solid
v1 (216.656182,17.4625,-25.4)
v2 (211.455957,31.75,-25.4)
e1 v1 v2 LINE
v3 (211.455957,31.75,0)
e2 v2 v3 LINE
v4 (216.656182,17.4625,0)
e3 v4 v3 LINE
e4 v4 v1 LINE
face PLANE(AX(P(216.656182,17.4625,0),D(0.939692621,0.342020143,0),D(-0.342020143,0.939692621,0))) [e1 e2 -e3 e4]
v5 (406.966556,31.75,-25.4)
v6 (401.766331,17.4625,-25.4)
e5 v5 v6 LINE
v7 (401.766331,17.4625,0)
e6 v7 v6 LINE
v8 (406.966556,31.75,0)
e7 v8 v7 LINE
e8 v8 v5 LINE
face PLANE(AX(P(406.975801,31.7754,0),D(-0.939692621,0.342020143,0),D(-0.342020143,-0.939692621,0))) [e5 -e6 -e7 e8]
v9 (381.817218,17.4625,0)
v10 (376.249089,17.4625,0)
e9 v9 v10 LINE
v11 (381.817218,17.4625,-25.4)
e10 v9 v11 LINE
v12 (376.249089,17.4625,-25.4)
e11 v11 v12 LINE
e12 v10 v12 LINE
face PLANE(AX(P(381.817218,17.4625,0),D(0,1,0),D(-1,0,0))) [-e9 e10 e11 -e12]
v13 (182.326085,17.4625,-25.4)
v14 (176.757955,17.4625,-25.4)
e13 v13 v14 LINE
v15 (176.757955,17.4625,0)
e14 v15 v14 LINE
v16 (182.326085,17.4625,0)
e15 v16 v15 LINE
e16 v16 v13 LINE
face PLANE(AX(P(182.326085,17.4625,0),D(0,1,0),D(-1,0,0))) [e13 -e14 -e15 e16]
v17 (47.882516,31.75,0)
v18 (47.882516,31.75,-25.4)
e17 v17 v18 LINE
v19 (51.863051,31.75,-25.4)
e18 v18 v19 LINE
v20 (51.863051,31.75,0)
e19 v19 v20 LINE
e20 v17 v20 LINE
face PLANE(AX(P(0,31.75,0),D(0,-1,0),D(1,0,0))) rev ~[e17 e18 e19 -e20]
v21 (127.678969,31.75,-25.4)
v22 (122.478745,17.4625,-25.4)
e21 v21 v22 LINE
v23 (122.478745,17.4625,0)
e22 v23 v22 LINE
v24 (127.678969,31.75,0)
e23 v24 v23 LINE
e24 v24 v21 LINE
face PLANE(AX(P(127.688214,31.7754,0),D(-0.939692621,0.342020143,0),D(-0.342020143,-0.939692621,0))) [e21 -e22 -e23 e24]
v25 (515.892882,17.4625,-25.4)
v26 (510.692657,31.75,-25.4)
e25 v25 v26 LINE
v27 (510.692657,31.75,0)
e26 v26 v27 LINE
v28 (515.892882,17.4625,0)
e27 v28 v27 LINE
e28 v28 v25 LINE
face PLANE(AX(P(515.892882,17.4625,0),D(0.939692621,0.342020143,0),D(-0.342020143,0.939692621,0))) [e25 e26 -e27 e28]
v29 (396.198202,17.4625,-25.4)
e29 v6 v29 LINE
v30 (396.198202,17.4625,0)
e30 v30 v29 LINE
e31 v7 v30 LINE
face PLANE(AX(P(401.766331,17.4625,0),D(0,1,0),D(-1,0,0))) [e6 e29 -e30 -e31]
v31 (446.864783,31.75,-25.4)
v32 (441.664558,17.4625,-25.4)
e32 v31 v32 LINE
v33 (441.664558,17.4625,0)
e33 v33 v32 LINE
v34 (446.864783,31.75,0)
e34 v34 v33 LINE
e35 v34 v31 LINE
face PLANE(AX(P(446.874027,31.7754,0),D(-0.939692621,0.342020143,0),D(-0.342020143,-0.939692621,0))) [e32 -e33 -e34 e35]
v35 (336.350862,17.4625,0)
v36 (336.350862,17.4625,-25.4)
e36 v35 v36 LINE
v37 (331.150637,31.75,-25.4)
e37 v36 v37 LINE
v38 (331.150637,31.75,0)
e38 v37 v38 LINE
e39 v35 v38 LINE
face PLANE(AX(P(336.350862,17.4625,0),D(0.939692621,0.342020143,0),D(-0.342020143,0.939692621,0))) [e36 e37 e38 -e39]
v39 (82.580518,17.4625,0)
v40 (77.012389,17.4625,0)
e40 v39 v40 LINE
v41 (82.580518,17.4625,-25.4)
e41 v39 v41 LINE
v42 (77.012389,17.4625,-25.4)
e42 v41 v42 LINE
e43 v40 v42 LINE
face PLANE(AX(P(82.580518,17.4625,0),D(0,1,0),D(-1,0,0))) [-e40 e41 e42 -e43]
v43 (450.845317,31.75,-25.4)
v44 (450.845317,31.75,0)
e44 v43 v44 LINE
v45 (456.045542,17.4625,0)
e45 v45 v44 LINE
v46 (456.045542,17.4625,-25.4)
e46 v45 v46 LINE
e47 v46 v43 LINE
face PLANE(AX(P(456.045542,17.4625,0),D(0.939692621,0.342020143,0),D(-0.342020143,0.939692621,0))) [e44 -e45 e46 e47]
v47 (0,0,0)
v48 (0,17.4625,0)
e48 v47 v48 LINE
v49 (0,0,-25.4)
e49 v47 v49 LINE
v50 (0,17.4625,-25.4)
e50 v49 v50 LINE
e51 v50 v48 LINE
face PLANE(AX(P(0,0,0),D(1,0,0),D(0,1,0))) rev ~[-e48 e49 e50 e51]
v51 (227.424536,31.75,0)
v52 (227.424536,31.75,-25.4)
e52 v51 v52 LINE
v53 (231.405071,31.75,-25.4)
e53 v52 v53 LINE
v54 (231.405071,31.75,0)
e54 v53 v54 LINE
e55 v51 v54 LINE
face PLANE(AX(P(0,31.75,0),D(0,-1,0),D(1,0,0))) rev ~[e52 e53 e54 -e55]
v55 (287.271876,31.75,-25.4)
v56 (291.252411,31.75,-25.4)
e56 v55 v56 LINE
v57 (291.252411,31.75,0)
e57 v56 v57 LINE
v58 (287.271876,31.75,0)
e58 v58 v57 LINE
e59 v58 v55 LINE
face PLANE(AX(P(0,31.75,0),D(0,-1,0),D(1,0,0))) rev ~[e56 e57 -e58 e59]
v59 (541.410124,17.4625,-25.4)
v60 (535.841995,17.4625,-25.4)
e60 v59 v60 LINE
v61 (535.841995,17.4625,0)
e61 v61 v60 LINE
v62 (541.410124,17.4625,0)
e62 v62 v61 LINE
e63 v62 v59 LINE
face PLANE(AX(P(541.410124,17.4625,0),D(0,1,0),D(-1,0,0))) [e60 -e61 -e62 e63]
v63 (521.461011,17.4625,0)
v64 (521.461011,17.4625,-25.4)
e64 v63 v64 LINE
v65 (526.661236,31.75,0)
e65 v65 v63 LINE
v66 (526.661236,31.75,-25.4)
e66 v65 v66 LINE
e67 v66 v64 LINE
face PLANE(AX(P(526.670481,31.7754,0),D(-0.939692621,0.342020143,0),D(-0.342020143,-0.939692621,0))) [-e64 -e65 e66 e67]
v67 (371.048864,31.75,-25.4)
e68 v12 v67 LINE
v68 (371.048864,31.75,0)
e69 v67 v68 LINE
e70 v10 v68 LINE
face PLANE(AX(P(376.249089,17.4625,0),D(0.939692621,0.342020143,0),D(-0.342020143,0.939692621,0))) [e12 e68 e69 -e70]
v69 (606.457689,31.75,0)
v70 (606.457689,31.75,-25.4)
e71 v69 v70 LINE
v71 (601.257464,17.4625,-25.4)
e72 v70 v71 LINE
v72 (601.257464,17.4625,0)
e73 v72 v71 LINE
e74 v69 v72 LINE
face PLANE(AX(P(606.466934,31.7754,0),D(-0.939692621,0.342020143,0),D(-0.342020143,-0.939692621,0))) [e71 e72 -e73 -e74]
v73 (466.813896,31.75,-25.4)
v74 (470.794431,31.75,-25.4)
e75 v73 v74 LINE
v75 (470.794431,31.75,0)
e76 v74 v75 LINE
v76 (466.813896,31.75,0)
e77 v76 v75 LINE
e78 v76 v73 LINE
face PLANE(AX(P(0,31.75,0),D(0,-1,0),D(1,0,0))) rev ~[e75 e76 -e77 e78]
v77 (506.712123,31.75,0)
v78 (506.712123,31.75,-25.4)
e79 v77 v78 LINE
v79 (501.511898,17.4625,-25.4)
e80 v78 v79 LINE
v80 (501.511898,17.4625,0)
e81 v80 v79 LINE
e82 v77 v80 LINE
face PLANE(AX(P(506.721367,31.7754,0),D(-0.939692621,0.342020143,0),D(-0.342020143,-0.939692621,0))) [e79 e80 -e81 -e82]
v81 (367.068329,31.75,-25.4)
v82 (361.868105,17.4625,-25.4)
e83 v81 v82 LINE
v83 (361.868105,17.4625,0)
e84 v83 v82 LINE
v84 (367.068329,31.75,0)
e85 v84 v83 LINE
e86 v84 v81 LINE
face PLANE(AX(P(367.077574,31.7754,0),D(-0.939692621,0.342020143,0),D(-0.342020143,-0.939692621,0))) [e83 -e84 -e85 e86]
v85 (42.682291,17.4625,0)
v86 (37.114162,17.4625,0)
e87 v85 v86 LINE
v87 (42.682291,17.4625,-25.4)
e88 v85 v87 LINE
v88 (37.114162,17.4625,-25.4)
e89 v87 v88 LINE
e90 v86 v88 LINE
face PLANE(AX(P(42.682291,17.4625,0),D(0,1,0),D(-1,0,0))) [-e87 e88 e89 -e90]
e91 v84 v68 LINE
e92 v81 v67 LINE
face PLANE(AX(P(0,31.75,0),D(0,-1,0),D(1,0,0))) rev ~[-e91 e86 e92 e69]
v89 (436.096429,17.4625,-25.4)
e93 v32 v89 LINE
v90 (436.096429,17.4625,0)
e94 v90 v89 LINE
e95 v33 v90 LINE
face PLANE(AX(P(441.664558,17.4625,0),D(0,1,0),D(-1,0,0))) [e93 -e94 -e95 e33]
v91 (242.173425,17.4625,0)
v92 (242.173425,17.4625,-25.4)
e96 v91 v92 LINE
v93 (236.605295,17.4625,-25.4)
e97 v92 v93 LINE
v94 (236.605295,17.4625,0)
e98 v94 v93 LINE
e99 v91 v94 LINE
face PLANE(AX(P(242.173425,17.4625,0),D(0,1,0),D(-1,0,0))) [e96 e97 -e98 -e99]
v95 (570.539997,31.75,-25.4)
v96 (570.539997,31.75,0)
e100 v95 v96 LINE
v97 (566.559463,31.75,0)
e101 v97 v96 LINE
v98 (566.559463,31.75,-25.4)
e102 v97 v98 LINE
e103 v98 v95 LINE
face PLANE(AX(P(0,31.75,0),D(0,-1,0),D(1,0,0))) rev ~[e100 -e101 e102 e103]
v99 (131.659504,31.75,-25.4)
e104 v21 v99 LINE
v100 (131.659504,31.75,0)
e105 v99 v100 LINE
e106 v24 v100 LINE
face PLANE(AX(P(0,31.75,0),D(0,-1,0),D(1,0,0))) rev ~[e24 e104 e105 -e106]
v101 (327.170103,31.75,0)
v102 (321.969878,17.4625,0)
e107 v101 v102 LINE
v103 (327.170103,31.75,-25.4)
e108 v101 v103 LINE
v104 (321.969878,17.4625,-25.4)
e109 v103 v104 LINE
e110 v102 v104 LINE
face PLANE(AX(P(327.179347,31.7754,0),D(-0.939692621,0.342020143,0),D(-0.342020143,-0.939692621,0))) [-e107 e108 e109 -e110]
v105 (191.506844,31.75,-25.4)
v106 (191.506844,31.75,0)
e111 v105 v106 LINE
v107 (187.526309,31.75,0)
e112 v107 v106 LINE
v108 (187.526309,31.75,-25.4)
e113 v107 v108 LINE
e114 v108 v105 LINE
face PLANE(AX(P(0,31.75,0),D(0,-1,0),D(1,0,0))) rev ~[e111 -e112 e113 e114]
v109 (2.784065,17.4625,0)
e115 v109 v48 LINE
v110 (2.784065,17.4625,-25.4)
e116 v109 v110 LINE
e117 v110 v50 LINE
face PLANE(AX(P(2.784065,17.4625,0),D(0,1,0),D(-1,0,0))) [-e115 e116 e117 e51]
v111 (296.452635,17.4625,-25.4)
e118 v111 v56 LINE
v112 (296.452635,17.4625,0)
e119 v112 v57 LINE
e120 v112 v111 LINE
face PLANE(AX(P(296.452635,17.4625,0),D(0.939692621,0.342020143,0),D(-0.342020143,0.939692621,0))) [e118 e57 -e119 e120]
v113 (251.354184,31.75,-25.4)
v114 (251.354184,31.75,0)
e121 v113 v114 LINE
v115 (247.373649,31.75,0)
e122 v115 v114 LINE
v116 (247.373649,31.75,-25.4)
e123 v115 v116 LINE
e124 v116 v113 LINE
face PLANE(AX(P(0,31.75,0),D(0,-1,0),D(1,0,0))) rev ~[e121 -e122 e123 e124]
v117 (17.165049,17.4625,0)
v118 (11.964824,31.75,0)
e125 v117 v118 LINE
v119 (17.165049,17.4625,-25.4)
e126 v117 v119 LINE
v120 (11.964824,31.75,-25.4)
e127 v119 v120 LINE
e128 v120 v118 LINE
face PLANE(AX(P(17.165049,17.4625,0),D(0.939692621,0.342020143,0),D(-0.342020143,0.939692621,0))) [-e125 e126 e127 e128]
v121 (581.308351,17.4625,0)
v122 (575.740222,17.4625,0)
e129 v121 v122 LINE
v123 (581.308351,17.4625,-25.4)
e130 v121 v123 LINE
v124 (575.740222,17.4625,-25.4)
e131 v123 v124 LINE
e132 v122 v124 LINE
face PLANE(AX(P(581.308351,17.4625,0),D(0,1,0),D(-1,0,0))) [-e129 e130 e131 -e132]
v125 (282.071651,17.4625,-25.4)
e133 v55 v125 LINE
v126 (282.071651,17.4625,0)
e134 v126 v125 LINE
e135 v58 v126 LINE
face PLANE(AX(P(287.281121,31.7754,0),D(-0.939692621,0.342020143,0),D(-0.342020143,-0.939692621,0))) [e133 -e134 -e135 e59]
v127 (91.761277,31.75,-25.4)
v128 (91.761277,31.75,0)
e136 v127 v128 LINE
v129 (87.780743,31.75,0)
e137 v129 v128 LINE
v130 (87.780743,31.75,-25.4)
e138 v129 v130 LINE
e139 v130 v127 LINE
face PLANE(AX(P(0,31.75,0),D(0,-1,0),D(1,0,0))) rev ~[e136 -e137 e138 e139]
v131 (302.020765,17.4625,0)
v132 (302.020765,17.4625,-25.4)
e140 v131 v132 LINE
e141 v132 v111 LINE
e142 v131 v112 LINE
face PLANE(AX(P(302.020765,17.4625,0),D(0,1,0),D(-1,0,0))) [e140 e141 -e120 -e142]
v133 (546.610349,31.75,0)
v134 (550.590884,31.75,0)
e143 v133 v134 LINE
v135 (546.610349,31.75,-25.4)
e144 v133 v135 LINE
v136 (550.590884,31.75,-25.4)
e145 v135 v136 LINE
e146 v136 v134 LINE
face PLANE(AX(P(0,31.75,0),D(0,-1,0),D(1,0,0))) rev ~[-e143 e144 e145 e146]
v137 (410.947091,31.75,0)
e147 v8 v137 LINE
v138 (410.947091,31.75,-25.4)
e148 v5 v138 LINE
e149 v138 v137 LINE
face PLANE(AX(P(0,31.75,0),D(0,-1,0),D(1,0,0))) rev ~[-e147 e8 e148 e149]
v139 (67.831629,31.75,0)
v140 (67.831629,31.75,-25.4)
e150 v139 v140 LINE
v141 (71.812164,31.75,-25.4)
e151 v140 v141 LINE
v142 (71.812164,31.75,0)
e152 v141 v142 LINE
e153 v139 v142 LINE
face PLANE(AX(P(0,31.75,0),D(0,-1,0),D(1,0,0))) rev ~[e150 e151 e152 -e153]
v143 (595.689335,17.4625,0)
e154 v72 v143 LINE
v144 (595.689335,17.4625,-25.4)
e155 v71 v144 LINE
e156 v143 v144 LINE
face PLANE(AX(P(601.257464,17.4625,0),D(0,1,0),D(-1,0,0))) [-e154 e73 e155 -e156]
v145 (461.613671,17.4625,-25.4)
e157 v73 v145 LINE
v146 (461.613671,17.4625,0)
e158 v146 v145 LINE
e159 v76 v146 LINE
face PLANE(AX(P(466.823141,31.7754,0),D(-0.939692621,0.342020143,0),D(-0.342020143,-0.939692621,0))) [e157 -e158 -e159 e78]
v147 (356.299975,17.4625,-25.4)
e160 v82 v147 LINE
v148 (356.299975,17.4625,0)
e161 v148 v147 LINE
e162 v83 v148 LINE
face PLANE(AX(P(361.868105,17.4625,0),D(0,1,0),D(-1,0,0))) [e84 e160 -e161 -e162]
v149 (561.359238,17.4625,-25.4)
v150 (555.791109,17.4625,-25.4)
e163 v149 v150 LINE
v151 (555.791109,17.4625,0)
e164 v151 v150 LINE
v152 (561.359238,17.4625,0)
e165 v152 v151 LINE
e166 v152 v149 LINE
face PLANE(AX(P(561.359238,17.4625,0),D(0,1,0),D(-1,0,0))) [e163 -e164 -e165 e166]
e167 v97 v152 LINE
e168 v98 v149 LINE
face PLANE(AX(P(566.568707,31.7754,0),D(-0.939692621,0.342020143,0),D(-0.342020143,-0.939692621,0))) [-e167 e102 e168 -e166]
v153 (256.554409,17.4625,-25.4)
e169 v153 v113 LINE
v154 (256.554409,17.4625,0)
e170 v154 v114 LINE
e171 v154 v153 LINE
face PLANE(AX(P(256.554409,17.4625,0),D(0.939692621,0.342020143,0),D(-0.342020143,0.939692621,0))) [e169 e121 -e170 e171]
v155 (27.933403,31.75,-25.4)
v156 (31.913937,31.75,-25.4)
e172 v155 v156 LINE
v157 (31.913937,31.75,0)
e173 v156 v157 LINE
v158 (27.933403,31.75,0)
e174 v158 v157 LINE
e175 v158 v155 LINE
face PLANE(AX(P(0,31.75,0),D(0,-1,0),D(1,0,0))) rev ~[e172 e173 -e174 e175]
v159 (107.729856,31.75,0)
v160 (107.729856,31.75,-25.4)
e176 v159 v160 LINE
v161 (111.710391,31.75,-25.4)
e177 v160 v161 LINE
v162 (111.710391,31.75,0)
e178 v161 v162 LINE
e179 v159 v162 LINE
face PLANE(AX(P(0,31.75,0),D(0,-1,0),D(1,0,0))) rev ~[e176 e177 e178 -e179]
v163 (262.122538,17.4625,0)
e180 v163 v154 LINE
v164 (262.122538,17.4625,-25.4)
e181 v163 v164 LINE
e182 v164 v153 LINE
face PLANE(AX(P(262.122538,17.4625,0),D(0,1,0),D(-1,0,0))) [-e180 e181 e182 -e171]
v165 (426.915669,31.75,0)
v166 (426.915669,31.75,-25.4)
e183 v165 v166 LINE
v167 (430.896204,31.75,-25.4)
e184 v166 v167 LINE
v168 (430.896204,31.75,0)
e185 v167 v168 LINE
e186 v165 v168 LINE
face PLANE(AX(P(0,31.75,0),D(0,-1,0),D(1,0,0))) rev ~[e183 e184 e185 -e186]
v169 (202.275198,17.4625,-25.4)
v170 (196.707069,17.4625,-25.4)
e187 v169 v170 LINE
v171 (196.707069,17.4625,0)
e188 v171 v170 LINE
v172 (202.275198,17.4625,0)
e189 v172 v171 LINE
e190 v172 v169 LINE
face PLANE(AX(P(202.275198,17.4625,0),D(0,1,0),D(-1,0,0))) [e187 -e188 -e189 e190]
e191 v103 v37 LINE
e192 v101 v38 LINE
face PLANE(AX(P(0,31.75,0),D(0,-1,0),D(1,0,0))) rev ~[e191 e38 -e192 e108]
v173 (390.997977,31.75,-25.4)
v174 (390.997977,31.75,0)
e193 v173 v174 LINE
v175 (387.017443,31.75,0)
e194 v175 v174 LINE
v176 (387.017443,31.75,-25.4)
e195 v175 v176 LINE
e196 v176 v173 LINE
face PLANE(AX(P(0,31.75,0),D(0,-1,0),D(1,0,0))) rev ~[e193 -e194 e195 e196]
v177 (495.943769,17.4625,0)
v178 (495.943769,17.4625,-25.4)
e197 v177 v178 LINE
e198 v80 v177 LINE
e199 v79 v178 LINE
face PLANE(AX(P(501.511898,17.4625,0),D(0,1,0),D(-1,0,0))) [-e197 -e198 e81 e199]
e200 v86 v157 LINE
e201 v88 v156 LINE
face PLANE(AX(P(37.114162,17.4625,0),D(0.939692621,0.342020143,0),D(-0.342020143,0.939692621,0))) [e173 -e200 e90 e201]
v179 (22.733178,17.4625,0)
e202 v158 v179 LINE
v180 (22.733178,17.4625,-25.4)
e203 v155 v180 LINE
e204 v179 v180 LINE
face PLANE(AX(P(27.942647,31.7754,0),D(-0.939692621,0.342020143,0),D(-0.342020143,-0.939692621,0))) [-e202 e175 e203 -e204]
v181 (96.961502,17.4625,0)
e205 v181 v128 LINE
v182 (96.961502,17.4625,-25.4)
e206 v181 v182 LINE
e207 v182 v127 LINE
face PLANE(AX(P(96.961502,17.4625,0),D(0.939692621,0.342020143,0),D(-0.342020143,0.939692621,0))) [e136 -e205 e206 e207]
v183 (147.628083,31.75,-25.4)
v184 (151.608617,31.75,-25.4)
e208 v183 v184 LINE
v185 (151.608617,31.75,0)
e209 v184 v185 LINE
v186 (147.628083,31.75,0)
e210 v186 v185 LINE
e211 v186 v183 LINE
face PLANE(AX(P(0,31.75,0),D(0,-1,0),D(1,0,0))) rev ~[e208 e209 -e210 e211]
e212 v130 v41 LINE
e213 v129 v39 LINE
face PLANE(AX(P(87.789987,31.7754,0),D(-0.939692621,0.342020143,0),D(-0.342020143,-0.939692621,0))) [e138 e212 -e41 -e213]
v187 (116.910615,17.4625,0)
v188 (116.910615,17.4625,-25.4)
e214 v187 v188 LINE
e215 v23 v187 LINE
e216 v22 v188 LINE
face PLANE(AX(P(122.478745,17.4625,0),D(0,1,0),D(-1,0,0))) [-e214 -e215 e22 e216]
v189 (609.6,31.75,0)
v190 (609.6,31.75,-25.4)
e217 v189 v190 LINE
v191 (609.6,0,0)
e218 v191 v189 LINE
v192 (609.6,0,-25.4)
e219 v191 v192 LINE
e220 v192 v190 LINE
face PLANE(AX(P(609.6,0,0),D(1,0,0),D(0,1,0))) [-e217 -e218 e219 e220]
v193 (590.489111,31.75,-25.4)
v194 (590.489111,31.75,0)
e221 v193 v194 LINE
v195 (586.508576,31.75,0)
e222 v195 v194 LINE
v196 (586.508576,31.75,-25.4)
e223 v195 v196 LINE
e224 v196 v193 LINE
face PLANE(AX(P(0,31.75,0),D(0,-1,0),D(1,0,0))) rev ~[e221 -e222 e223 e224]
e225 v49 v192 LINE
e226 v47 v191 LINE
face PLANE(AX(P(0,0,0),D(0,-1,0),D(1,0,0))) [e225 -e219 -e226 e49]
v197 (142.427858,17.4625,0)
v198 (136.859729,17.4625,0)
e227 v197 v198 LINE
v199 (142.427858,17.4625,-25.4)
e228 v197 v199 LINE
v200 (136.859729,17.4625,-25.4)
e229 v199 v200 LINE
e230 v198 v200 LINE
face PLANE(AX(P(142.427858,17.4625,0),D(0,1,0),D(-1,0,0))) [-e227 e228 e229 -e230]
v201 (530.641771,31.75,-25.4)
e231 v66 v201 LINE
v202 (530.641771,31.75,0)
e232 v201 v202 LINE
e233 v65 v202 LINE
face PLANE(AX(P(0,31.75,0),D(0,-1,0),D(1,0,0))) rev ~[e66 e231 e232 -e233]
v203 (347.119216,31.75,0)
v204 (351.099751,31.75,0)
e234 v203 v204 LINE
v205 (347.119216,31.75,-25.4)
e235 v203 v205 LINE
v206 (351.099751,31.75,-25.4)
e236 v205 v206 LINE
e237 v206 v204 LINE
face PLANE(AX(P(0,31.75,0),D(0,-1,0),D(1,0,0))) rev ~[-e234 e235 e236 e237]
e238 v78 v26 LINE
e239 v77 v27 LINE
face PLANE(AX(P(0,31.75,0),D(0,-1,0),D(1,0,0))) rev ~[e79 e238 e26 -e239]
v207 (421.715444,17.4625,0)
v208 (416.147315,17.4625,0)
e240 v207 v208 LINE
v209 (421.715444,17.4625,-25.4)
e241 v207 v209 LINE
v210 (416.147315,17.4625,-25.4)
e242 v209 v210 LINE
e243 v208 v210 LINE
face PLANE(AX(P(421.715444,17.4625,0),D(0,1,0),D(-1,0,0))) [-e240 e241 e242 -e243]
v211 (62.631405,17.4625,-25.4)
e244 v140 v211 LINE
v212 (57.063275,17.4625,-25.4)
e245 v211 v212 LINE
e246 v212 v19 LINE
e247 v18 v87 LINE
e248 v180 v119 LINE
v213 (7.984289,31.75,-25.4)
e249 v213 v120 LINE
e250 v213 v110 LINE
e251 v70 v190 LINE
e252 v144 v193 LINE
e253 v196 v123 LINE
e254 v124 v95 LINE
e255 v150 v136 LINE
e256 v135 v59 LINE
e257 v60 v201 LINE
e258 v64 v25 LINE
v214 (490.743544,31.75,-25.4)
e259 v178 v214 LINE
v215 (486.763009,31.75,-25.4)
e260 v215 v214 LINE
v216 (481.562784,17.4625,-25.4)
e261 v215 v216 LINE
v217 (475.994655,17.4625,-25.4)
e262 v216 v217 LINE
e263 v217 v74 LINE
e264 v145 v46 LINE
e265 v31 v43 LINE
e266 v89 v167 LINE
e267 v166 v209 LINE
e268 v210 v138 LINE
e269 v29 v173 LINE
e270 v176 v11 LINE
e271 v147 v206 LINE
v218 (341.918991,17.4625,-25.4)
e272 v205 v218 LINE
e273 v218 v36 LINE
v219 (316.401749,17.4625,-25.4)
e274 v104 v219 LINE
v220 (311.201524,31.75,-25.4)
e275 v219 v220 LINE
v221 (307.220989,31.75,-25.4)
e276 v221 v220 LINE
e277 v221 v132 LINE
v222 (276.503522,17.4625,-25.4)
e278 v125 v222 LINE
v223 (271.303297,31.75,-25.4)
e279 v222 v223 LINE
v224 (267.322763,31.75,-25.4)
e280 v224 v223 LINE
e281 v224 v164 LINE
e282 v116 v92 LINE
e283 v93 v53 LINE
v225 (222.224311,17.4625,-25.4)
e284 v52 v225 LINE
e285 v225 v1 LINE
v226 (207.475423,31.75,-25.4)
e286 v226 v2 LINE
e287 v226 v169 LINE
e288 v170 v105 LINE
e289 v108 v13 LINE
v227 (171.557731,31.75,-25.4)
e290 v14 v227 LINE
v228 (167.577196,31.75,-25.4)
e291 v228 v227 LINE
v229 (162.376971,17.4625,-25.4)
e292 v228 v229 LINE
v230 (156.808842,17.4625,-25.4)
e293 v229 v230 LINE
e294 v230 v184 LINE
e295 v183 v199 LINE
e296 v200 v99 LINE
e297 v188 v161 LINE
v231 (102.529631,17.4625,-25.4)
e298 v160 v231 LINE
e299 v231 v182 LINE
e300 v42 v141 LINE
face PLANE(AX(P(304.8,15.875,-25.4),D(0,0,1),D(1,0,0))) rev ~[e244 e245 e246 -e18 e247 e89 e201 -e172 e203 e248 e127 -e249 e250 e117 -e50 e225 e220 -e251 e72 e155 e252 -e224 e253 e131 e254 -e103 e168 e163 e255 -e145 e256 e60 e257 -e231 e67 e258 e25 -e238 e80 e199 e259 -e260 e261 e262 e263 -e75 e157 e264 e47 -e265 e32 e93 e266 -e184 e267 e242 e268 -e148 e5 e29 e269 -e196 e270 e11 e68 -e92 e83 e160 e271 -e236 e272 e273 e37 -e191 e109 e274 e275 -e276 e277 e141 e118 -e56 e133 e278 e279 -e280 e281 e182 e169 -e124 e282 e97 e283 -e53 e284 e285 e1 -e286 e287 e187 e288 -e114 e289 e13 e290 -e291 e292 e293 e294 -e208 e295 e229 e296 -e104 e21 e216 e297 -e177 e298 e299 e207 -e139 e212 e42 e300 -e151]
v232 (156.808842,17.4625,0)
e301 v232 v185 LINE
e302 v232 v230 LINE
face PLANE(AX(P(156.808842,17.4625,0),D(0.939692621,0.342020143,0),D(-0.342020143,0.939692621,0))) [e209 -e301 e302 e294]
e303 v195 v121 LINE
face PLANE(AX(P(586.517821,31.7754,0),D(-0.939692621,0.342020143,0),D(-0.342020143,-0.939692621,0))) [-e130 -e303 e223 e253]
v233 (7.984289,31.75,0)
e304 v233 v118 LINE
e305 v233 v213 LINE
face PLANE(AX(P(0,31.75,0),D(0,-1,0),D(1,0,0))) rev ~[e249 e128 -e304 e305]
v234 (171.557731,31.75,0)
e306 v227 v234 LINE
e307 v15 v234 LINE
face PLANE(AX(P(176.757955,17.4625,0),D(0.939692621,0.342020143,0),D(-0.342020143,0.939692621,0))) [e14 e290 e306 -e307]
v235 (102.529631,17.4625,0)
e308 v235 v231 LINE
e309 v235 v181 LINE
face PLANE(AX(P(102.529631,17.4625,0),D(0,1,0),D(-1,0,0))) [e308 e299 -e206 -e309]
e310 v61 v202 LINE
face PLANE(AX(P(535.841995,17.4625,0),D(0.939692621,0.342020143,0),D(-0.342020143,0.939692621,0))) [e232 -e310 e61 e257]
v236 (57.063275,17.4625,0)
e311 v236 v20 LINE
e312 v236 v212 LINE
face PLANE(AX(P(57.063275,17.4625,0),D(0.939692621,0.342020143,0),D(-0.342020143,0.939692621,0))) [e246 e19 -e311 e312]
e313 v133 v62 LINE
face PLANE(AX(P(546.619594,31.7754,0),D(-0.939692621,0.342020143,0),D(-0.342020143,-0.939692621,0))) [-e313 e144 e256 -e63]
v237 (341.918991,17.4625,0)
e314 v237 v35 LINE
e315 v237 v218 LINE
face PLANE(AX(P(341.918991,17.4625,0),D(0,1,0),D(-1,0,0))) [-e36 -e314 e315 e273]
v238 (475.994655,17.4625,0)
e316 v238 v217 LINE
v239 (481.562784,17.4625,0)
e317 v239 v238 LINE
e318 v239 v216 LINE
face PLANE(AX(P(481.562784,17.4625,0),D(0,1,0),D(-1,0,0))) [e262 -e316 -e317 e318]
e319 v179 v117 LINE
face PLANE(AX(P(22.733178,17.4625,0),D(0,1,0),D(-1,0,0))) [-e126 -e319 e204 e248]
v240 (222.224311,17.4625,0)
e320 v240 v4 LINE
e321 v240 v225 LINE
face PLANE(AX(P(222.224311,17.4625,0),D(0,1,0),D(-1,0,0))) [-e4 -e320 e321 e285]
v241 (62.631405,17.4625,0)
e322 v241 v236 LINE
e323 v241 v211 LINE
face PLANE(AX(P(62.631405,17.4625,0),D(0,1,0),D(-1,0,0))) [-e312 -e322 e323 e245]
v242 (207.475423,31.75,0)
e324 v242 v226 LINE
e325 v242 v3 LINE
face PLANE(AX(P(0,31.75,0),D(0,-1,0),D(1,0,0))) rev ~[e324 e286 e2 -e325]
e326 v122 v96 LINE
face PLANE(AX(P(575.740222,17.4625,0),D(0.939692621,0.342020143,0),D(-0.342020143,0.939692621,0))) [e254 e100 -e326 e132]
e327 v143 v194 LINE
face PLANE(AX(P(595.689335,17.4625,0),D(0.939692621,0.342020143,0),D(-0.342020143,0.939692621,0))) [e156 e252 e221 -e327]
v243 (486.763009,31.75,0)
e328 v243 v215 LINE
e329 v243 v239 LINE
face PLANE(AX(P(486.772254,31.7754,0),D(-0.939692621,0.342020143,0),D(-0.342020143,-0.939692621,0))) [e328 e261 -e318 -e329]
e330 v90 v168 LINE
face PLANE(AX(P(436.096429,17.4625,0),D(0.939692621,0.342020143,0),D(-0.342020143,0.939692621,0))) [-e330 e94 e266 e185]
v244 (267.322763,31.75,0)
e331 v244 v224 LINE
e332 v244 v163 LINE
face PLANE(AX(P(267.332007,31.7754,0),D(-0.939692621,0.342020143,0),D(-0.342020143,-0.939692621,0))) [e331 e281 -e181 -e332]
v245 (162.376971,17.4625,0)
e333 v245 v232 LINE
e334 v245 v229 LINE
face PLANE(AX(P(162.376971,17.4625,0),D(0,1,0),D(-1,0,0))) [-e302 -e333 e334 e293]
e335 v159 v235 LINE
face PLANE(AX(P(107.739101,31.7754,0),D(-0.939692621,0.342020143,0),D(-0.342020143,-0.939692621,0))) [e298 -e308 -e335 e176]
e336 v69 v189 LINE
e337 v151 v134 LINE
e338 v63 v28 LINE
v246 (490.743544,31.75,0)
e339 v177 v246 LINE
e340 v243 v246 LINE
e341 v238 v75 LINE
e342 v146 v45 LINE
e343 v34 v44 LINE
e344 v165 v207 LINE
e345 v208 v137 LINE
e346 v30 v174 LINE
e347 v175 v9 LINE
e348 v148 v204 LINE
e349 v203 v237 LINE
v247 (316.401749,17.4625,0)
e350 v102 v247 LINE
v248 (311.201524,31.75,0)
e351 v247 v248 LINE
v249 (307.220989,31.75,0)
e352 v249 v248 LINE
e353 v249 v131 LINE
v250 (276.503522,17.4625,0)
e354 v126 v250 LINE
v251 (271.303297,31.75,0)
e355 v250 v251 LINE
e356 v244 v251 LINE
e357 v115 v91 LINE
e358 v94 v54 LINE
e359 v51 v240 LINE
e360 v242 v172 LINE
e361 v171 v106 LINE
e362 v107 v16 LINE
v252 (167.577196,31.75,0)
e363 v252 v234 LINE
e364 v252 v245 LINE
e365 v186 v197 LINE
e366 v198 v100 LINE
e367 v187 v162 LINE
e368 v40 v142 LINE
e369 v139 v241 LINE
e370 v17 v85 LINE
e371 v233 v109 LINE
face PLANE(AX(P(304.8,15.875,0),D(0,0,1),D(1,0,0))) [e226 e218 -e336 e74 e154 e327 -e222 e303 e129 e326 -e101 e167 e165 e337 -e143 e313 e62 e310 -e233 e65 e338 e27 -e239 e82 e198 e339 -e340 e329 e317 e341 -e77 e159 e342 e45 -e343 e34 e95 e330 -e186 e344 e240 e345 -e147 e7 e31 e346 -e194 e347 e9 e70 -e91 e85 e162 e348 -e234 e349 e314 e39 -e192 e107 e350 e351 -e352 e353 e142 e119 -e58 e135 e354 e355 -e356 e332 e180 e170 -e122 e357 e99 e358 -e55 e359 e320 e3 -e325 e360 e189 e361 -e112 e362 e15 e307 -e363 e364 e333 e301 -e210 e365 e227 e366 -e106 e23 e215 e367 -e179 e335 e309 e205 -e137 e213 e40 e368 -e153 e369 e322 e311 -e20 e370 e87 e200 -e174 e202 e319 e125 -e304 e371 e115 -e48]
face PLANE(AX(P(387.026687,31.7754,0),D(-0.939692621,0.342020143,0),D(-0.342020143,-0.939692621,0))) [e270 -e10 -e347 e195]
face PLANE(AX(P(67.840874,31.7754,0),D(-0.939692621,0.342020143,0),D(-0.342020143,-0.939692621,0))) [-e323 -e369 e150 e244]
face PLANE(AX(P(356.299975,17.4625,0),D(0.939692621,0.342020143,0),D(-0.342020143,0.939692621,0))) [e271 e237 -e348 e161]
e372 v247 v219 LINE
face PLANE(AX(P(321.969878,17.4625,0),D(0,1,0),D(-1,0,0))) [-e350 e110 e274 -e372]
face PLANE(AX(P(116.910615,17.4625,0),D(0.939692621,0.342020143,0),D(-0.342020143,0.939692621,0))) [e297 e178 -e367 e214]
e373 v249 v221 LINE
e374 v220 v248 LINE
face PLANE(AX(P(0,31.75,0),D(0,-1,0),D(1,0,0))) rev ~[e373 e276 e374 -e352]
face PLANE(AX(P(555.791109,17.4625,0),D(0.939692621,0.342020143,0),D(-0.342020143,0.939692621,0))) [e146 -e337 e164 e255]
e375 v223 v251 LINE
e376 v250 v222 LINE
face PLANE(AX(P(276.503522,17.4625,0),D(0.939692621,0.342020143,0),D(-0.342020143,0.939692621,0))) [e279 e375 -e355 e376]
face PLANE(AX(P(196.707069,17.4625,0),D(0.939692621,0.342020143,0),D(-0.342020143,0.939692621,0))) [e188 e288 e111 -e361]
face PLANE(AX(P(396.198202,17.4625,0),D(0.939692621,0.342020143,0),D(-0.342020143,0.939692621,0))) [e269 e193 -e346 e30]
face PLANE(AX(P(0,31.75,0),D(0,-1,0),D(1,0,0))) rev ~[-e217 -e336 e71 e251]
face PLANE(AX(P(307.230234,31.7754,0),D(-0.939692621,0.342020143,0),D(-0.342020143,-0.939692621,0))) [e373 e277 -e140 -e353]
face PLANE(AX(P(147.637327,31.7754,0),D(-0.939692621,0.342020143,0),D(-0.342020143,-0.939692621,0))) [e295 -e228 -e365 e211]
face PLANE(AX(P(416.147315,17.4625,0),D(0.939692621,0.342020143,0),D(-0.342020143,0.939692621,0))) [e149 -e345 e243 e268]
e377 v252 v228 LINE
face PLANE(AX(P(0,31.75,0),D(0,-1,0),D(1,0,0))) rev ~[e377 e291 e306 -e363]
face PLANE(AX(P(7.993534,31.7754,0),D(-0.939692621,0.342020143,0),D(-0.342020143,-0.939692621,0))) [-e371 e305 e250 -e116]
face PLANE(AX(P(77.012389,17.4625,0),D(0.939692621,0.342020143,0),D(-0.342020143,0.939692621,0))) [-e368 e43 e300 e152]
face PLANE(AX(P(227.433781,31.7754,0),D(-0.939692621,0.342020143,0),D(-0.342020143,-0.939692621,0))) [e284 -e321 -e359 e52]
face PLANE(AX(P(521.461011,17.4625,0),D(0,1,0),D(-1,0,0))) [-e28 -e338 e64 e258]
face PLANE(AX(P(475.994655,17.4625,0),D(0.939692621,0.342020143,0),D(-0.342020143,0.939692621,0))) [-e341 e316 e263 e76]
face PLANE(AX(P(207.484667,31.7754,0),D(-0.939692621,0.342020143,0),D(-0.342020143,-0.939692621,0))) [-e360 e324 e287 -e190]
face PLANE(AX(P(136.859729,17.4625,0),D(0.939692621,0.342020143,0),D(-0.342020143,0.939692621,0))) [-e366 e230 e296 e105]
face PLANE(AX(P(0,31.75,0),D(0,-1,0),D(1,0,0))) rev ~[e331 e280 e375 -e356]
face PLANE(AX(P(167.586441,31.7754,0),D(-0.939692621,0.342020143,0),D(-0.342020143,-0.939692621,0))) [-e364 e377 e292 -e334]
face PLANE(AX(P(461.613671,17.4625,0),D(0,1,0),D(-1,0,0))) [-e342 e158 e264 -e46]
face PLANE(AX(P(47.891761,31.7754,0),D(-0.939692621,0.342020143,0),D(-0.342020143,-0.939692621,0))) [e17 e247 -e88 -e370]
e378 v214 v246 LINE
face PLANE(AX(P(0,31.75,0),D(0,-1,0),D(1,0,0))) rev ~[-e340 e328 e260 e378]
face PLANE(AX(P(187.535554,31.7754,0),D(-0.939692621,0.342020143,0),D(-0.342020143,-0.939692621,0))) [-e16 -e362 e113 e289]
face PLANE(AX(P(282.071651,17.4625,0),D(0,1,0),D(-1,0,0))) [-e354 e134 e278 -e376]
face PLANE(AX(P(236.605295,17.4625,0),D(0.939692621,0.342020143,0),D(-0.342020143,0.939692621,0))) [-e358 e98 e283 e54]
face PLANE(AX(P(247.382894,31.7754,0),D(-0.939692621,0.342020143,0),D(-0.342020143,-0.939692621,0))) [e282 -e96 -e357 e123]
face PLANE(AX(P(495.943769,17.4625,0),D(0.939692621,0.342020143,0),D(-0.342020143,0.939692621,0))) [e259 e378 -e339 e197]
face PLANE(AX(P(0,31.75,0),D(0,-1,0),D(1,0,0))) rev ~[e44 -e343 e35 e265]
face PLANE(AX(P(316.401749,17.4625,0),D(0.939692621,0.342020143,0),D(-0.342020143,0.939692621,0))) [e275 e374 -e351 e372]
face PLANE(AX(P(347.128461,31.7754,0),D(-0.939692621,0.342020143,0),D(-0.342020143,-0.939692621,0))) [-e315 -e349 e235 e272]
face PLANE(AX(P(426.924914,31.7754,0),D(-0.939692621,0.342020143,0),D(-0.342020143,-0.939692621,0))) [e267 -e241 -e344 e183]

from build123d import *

# Parameters (mm, degrees)
BLANKSKE_W        = 609.6
BLANKSKE_H        = 31.75
BLANK_DEPTH       = 25.4
TOOTHCUTSIM_DEPTH = 611.954484802
TEETHCUTS_COUNT   = 31
TEETHCUTS_PITCH   = 19.949113328


with BuildPart() as part:
    # BlankSke → Blank (new body)
    with BuildSketch(Plane.XY):
        with Locations((304.8, 15.875)):
            Rectangle(BLANKSKE_W, BLANKSKE_H)
    extrude(amount=-BLANK_DEPTH)

    # TooCutSkeSim → ToothCutSim (cut, through all)
    with BuildSketch(Plane.XY):
        Polygon((2.784064597, 17.4625), (-2.784064597, 17.4625), (-7.993534163, 31.7754), (7.993534163, 31.7754), align=None)
    toothcutsim = extrude(amount=-TOOTHCUTSIM_DEPTH, mode=Mode.SUBTRACT)

    # TeethCuts: ToothCutSim ×31
    with Locations(*[(i * TEETHCUTS_PITCH, 0, 0) for i in range(1, TEETHCUTS_COUNT)]):
        add(toothcutsim, mode=Mode.SUBTRACT)


solid = part.part
